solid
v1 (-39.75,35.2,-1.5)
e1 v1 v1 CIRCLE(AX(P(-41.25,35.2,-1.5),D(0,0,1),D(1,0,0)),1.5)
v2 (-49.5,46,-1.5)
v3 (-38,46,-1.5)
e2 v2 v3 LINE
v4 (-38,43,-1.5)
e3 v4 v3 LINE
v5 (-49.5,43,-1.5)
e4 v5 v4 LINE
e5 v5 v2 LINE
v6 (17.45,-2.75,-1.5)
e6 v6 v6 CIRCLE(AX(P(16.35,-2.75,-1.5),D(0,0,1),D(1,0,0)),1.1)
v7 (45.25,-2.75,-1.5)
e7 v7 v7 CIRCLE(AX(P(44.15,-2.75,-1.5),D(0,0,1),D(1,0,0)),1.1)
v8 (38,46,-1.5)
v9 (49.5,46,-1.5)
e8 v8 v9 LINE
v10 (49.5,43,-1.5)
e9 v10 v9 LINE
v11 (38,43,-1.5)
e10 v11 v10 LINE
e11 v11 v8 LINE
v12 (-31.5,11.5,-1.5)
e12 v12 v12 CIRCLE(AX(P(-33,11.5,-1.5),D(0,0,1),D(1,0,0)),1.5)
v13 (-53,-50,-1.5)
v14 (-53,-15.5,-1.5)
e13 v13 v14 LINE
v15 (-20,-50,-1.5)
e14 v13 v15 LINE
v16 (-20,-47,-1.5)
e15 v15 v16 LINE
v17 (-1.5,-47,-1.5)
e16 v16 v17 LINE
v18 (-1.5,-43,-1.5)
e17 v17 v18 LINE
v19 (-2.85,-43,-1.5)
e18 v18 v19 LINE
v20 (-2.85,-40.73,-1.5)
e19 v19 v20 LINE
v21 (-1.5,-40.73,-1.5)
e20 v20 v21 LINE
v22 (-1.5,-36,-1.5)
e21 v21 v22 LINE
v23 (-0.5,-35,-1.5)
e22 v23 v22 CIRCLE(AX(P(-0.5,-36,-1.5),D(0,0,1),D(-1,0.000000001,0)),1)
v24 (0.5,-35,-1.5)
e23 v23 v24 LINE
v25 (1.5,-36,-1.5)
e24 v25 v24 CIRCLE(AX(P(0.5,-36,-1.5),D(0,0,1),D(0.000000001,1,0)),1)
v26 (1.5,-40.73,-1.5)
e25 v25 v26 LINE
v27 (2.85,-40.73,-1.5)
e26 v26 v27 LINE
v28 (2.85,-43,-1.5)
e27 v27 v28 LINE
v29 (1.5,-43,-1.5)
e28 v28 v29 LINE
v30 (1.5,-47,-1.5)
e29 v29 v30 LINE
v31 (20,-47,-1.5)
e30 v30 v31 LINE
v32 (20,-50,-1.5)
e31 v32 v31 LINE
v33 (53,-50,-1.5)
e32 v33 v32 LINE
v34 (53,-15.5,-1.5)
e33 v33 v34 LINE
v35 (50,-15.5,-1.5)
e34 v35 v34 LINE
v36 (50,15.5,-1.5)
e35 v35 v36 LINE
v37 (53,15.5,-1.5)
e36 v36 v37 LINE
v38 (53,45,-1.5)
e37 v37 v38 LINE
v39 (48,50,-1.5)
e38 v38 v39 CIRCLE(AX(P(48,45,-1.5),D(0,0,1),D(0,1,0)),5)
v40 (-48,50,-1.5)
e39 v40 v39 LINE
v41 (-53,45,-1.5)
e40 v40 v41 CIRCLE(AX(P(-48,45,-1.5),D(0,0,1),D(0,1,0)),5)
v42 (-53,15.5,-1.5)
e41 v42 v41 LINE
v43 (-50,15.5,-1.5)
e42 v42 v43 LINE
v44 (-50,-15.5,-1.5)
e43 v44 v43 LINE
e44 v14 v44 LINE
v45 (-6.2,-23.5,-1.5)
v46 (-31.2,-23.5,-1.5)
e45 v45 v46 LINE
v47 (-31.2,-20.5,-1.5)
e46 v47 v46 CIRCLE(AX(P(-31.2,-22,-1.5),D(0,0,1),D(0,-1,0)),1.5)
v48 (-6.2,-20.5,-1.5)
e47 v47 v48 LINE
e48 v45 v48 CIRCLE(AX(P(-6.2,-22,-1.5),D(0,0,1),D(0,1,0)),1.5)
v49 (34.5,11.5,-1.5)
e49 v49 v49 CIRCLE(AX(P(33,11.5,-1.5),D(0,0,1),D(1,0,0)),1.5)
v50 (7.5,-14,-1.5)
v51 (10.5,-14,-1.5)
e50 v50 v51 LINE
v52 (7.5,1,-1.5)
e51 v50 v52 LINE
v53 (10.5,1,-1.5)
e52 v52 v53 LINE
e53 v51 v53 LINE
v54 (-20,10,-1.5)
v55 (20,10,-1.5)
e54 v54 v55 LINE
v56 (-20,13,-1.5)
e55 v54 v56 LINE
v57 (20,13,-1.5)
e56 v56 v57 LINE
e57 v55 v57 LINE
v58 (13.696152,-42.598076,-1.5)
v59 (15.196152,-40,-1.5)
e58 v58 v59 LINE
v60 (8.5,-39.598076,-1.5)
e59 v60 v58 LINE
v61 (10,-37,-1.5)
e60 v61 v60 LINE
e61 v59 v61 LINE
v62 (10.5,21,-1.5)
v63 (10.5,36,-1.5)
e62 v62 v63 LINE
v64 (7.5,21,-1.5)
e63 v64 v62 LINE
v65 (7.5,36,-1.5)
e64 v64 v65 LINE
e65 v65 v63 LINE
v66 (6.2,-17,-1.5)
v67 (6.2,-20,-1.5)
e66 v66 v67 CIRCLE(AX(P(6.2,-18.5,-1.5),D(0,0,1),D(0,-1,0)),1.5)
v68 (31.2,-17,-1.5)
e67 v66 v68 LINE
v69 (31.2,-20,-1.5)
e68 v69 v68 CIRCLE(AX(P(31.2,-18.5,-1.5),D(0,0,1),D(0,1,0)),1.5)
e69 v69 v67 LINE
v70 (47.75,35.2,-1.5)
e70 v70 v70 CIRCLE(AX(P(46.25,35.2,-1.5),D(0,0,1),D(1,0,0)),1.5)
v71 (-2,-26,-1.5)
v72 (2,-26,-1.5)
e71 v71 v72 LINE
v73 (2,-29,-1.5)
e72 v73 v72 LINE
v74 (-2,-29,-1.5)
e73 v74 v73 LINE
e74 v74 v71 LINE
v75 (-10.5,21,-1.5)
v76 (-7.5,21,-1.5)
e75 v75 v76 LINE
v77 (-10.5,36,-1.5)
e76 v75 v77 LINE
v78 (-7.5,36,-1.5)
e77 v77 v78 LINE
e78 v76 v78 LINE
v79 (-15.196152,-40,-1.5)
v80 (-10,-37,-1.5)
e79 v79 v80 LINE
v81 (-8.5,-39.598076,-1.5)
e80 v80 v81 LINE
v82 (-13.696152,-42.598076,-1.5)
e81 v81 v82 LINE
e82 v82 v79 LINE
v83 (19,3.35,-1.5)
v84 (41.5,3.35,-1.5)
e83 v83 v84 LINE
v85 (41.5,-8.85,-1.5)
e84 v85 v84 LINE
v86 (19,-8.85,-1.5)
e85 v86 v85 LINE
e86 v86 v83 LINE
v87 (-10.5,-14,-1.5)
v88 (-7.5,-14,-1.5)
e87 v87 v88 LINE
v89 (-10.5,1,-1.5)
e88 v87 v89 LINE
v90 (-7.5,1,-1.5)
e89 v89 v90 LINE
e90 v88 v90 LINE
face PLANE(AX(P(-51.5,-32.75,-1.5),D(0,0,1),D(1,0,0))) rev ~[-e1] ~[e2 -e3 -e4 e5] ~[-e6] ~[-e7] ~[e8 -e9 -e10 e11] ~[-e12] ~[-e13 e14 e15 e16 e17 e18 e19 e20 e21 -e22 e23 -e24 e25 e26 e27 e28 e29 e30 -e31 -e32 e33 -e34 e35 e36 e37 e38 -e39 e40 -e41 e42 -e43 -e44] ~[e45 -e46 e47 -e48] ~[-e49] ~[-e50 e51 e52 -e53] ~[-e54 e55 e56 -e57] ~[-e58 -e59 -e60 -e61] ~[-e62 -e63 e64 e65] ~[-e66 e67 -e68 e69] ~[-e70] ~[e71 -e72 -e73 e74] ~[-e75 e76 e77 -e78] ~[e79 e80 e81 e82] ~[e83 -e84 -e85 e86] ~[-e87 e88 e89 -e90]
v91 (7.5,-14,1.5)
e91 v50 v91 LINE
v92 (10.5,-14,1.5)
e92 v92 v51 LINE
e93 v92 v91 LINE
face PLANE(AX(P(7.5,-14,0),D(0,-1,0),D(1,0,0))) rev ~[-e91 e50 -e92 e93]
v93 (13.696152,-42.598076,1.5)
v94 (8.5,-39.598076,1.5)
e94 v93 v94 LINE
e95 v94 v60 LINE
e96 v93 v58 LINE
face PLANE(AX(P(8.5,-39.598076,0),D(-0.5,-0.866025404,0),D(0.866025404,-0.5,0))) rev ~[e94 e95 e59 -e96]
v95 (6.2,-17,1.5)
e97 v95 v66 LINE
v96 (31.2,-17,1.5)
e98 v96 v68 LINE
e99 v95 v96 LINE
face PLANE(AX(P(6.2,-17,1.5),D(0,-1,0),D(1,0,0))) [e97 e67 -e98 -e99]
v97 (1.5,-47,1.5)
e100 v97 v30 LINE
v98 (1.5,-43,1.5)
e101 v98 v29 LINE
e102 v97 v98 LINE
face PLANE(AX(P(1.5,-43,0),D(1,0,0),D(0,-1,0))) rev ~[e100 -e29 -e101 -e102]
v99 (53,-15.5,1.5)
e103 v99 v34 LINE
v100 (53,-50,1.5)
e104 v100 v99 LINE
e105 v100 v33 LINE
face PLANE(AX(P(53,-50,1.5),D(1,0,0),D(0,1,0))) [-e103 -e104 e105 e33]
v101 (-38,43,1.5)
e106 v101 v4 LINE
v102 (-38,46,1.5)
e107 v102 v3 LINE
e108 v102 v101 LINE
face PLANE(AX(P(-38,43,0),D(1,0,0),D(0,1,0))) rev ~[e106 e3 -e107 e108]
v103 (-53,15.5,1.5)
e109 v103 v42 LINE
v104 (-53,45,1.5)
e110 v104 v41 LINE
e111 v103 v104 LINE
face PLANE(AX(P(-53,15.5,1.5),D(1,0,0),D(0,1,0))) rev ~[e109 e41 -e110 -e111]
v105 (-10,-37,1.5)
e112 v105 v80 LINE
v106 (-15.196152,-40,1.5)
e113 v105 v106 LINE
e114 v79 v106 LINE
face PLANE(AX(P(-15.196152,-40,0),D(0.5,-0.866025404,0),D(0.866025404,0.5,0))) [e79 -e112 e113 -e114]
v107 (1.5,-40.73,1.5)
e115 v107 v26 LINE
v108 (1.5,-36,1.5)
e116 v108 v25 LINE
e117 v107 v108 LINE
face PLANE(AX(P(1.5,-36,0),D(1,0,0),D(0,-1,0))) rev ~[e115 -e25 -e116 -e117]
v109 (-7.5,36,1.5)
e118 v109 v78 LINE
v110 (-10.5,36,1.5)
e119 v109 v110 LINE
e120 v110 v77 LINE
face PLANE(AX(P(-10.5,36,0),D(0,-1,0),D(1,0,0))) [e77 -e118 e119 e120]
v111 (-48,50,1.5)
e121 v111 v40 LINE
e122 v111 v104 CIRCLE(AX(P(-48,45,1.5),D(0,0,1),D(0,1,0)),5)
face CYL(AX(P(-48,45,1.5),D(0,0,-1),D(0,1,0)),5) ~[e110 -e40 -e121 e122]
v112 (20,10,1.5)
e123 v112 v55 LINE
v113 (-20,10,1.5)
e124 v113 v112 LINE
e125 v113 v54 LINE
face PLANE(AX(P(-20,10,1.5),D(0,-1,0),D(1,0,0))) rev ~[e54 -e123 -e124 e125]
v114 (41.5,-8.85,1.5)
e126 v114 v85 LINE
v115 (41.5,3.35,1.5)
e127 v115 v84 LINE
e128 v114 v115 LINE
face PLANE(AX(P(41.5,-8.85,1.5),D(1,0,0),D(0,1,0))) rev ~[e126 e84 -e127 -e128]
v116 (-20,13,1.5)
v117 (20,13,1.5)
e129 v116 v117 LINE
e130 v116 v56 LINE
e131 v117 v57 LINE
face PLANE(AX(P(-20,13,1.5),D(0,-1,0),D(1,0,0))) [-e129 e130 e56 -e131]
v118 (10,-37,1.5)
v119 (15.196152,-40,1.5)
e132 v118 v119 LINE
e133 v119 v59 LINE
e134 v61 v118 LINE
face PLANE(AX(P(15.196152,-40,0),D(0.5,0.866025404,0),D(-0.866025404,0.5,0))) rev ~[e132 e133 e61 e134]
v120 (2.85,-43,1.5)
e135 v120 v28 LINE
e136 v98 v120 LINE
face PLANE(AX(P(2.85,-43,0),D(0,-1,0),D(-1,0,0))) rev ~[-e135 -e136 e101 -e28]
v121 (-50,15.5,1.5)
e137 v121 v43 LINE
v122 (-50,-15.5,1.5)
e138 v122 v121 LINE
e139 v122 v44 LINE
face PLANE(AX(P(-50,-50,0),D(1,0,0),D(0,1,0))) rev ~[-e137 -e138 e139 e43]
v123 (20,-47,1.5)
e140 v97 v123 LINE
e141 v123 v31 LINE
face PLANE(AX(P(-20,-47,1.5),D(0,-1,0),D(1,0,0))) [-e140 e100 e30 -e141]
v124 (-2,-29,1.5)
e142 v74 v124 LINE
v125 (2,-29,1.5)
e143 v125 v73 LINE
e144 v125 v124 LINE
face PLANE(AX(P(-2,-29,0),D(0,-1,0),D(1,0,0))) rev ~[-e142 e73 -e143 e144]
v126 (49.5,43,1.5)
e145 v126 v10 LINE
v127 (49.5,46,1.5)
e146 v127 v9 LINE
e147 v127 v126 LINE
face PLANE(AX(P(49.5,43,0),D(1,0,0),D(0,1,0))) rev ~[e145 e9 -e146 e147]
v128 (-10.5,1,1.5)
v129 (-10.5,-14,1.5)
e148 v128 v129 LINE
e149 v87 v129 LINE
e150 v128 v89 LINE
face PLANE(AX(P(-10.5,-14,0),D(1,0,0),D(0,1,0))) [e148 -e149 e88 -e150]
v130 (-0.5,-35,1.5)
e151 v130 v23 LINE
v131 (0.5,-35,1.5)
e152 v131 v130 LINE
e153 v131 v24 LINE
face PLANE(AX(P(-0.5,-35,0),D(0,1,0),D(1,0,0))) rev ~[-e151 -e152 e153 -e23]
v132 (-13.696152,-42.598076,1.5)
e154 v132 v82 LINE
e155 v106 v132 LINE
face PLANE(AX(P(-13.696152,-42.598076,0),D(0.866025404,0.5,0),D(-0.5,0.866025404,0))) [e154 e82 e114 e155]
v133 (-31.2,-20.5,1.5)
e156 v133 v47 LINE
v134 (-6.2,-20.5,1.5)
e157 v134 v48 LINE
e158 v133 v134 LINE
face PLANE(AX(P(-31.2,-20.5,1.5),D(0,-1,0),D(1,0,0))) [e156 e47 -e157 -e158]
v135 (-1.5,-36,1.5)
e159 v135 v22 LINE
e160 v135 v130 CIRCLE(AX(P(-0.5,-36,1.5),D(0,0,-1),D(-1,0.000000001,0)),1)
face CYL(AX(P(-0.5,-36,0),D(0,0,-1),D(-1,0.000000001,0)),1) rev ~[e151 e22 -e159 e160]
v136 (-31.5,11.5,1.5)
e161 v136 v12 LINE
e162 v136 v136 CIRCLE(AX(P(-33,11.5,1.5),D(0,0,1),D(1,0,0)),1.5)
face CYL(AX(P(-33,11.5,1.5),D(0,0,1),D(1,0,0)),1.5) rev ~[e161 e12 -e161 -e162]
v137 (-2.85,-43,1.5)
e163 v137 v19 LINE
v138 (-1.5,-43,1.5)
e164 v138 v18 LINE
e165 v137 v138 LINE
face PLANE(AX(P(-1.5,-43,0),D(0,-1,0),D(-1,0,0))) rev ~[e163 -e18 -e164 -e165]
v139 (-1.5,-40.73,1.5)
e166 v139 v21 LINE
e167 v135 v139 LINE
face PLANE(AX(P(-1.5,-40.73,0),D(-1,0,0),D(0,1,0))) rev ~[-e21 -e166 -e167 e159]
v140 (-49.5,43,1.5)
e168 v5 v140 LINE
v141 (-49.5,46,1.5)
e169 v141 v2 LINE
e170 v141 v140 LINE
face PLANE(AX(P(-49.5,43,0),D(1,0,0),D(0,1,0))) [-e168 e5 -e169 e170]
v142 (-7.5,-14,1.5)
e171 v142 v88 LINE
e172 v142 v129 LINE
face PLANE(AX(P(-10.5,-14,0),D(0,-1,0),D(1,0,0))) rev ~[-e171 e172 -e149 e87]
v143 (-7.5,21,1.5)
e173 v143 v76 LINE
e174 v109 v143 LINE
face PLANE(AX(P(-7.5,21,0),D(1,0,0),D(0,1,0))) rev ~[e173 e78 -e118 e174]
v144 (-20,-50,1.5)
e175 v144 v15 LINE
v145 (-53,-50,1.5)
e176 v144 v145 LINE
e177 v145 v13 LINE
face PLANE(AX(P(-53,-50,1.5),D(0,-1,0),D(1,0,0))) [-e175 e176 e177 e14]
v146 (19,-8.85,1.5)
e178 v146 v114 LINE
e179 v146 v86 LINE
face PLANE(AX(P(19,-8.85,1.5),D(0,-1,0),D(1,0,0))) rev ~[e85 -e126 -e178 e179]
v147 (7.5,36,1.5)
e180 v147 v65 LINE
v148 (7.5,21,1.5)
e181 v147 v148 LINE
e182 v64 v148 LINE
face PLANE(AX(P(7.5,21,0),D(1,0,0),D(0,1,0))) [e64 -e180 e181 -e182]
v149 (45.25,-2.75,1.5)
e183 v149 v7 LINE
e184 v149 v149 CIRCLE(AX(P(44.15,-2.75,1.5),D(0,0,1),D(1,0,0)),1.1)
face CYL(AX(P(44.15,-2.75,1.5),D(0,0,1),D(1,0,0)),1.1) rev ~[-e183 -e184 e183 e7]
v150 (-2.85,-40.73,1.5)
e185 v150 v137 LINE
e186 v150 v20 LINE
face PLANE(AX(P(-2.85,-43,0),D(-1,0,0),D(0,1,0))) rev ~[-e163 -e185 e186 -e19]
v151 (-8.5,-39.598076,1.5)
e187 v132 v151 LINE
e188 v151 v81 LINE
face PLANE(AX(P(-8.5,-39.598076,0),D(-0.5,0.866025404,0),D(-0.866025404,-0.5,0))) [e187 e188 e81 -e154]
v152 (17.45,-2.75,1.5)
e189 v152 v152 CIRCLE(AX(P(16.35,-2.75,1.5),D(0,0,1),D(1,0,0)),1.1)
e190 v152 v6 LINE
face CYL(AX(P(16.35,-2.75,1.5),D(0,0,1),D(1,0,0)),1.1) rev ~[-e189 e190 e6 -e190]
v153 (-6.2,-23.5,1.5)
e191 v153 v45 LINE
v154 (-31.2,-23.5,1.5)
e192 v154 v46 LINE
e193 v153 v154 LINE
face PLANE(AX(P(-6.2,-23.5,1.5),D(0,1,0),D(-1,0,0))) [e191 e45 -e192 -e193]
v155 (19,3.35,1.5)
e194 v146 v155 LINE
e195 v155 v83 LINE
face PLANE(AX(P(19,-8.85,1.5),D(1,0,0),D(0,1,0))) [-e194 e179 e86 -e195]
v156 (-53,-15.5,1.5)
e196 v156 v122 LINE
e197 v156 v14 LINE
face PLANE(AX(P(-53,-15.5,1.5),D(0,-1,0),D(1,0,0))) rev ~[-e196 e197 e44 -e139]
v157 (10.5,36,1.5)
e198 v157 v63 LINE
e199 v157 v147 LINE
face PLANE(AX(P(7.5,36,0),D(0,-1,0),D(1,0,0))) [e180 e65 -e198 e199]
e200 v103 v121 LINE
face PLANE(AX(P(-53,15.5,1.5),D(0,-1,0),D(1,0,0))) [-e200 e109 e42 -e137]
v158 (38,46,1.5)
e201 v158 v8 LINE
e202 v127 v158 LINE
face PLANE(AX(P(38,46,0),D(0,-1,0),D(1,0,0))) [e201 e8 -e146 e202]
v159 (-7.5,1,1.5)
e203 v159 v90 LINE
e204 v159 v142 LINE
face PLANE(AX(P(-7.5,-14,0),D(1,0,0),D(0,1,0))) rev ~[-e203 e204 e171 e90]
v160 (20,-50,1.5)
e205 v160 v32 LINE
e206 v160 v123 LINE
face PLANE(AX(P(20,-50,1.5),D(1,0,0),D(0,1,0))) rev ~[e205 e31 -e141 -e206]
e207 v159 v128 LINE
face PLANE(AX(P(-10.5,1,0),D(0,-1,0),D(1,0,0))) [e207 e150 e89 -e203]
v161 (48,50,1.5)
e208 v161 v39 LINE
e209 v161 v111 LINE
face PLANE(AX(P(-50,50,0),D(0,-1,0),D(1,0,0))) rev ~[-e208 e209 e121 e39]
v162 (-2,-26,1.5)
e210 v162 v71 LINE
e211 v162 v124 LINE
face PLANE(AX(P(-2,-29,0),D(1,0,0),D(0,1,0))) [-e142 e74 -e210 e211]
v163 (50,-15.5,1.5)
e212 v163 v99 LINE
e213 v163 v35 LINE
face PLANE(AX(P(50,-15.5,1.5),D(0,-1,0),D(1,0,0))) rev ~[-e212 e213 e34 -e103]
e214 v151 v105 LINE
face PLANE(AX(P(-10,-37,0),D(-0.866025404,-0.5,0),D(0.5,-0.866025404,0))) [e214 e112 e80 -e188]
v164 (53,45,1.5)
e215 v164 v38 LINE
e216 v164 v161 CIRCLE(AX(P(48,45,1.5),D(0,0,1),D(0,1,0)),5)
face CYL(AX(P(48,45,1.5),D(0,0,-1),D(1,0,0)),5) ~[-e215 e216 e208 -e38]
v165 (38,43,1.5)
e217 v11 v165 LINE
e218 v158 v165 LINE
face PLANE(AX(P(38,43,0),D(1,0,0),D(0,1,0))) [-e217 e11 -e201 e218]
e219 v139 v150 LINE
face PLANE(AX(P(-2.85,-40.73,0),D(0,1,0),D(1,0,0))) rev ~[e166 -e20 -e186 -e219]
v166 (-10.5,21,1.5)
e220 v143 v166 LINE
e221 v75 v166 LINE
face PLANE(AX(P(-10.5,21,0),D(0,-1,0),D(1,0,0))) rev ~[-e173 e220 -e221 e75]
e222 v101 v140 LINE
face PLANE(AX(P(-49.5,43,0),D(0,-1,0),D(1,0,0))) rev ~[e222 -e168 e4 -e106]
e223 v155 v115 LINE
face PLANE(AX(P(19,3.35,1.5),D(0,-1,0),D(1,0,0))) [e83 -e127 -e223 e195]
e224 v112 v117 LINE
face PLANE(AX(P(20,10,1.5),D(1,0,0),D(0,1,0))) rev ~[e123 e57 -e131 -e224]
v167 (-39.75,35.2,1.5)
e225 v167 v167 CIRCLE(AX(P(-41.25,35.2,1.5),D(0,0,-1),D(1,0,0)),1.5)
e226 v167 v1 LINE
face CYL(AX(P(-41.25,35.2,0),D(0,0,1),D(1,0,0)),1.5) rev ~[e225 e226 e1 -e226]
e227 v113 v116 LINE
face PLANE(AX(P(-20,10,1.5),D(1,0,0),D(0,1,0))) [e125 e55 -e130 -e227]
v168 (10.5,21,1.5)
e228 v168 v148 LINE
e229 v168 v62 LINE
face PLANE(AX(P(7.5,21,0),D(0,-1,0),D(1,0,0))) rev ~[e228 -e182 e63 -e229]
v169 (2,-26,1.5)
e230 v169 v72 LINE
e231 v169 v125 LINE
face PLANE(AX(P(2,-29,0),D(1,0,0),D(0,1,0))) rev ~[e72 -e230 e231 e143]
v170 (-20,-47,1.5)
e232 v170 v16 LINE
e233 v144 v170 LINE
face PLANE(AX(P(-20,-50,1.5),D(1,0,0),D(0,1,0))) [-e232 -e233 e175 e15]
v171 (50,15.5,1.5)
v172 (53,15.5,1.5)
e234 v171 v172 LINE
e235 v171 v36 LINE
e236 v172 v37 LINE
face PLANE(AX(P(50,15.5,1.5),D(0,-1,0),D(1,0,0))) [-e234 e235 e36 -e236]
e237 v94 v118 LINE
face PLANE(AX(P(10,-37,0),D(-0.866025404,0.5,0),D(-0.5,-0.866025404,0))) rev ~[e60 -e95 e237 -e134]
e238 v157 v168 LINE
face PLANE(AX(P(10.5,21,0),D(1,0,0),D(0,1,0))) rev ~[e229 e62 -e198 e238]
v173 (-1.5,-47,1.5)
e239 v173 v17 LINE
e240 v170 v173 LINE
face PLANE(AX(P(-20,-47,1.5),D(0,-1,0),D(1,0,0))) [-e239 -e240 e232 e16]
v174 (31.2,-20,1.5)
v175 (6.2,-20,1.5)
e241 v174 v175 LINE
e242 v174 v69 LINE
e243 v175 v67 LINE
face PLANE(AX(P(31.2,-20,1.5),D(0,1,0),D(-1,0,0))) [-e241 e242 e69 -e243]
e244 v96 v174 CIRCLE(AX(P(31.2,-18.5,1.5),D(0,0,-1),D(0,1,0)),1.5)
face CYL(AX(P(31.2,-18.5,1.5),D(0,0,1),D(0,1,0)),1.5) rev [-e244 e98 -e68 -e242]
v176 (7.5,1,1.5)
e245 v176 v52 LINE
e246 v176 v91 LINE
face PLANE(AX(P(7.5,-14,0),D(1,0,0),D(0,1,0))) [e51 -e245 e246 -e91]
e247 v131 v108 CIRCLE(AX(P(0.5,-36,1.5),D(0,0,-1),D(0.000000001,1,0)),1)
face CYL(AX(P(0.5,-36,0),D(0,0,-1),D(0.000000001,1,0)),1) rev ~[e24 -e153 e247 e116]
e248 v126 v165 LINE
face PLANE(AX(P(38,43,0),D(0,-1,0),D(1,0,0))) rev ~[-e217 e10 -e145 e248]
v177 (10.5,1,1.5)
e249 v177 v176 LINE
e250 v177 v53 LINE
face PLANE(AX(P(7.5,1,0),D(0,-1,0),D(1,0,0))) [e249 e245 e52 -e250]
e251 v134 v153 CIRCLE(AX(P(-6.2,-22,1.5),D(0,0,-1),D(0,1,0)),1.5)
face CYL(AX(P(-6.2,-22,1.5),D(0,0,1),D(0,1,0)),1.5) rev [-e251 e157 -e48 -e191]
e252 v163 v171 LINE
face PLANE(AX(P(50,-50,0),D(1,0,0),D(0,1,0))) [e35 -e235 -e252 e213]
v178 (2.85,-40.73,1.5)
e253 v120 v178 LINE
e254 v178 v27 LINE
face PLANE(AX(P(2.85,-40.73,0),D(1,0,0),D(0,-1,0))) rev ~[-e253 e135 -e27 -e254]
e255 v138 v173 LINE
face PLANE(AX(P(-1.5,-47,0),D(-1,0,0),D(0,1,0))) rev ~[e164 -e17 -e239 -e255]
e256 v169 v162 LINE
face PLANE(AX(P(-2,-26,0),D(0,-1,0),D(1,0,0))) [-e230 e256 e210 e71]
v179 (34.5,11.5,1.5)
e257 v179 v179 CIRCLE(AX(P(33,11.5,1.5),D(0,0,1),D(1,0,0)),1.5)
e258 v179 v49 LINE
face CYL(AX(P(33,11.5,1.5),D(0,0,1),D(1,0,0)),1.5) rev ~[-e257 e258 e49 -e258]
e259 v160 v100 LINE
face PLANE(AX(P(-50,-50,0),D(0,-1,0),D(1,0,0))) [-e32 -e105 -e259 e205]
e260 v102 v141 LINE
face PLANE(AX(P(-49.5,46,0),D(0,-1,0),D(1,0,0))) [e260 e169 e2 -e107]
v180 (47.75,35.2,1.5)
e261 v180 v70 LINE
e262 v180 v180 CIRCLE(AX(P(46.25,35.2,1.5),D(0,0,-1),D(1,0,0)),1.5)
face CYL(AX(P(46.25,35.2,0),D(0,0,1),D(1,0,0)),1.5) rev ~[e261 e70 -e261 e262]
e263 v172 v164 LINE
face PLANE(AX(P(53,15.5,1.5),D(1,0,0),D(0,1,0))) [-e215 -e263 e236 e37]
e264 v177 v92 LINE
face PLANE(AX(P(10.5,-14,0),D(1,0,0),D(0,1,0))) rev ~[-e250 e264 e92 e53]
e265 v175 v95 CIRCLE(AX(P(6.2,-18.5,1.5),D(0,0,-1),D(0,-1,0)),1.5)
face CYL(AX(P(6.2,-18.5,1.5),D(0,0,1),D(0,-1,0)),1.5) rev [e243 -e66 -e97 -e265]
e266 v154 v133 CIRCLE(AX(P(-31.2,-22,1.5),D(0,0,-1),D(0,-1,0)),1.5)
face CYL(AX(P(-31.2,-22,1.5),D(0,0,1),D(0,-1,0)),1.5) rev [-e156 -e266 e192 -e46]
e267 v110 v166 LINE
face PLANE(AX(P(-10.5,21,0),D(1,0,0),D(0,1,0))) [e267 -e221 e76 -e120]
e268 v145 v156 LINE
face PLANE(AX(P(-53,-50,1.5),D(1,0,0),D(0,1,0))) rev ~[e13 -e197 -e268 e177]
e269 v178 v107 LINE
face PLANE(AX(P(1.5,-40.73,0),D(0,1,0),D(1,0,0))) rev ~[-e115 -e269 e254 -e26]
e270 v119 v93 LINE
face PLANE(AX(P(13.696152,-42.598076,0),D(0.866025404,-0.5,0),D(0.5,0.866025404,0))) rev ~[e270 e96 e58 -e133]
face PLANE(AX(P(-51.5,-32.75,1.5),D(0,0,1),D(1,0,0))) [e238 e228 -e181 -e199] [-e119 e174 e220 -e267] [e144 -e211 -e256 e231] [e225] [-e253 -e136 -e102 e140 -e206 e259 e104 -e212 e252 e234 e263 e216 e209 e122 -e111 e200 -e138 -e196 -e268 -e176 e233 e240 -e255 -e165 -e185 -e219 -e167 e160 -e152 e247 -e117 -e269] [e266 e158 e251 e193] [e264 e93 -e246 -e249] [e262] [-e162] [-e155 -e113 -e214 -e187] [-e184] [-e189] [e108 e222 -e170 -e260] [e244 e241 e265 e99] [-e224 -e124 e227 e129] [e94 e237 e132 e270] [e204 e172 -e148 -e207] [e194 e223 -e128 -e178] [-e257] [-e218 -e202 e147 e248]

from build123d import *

# Parameters (mm, degrees)
ESBO_O1_W                 = 100
ESBO_O1_H                 = 100
RESSALTO_EXTRUS_O1_DEPTH  = 1.5
ESBO_O2_R                 = 1.5
ESBO_O2_W                 = 40
ESBO_O2_H                 = 3
CORTE_EXTRUS_O1_DEPTH     = 4
ESBO_O3_W                 = 3
ESBO_O3_H                 = 34.5
RESSALTO_EXTRUS_O2_DEPTH  = 3
CUT_EXTRUDE4_DEPTH        = 2.5
CUT_EXTRUDE4_DEPTH_BACK   = 2.5
FILLET1_R                 = 5
SKETCH3_W                 = 3
SKETCH3_H                 = 15
SKETCH3_W_2               = 4
SKETCH3_H_2               = 3
CUT_EXTRUDE5_DEPTH        = 2.5
CUT_EXTRUDE5_DEPTH_BACK   = 2.5
SKETCH8_R                 = 1.5
SKETCH8_W                 = 11.5
SKETCH8_H                 = 3
CORTE_GY_53LDK_DEPTH      = 2.5
CORTE_GY_53LDK_DEPTH_BACK = 2.5
SKETCH4_R                 = 1.1
SKETCH4_W                 = 22.5
SKETCH4_H                 = 12.2
CUT_EXTRUDE6_DEPTH        = 1
CUT_EXTRUDE6_DEPTH_BACK   = 4
CUT_EXTRUDE7_DEPTH        = 1
CUT_EXTRUDE7_DEPTH_BACK   = 4


with BuildPart() as part:
    # Esboço1 → Ressalto-extrusão1 (new body, symmetric)
    with BuildSketch(Plane.XY):
        Rectangle(ESBO_O1_W, ESBO_O1_H)
    extrude(amount=RESSALTO_EXTRUS_O1_DEPTH, both=True)

    # Esboço2 → Corte-extrusão1 (cut, through all)
    with BuildSketch(Plane.XY.offset(1.5)):
        with Locations((-33, 11.5)):
            Circle(ESBO_O2_R)
        with Locations((33, 11.5)):
            Circle(ESBO_O2_R)
        with Locations((0, -48.5)):
            Rectangle(ESBO_O2_W, ESBO_O2_H)
        with Locations((0, 11.5)):
            Rectangle(ESBO_O2_W, ESBO_O2_H)
    extrude(amount=-CORTE_EXTRUS_O1_DEPTH, mode=Mode.SUBTRACT)

    # Esboço3 → Ressalto-extrusão2 (add, through all)
    with BuildSketch(Plane.XY.offset(1.5)):
        with Locations((-51.5, -32.75)):
            Rectangle(ESBO_O3_W, ESBO_O3_H)
        with Locations((51.5, -32.75)):
            Rectangle(ESBO_O3_W, ESBO_O3_H)
        with Locations((-51.5, 32.75)):
            Rectangle(ESBO_O3_W, ESBO_O3_H)
        with Locations((51.5, 32.75)):
            Rectangle(ESBO_O3_W, ESBO_O3_H)
    extrude(amount=-RESSALTO_EXTRUS_O2_DEPTH)

    # Sketch2 → Cut-Extrude4 (cut, two sides)
    with BuildSketch(Plane.XY) as cut_extrude4_sk:
        with BuildLine():
            Line((-0.5, -35), (0.5, -35))
            ThreePointArc((0.5, -35), (1.207106781, -35.292893219), (1.5, -36))
            Line((1.5, -36), (1.5, -40.73))
            Line((1.5, -40.73), (2.85, -40.73))
            Line((2.85, -40.73), (2.85, -43))
            Line((2.85, -43), (1.5, -43))
            Line((1.5, -43), (1.5, -47))
            Line((1.5, -47), (-1.5, -47))
            Line((-1.5, -47), (-1.5, -43))
            Line((-1.5, -43), (-2.85, -43))
            Line((-2.85, -43), (-2.85, -40.73))
            Line((-2.85, -40.73), (-1.5, -40.73))
            Line((-1.5, -40.73), (-1.5, -36))
            ThreePointArc((-1.5, -36), (-1.207106781, -35.292893219), (-0.5, -35))
        make_face()
    extrude(amount=CUT_EXTRUDE4_DEPTH, mode=Mode.SUBTRACT)
    extrude(cut_extrude4_sk.sketch, amount=-CUT_EXTRUDE4_DEPTH_BACK, mode=Mode.SUBTRACT)

    # Fillet1
    fillet1_edges = [part.edges().sort_by_distance(p)[0] for p in [
        (53, 50, 0),
        (-53, 50, 0),
    ]]
    fillet(fillet1_edges, radius=FILLET1_R)

    # Sketch3 → Cut-Extrude5 (cut, two sides)
    with BuildSketch(Plane.XY) as cut_extrude5_sk:
        with Locations((9, -6.5)):
            Rectangle(SKETCH3_W, SKETCH3_H)
        with Locations((9, 28.5)):
            Rectangle(SKETCH3_W, SKETCH3_H)
        with Locations((-9, 28.5)):
            Rectangle(SKETCH3_W, SKETCH3_H)
        with Locations((-9, -6.5)):
            Rectangle(SKETCH3_W, SKETCH3_H)
        with Locations((0, -27.5)):
            Rectangle(SKETCH3_W_2, SKETCH3_H_2)
        Polygon((-15.196152423, -40), (-10, -37), (-8.5, -39.598076211), (-13.696152423, -42.598076211), align=None)
        Polygon((10, -37), (8.5, -39.598076211), (13.696152423, -42.598076211), (15.196152423, -40), align=None)
    extrude(amount=CUT_EXTRUDE5_DEPTH, mode=Mode.SUBTRACT)
    extrude(cut_extrude5_sk.sketch, amount=-CUT_EXTRUDE5_DEPTH_BACK, mode=Mode.SUBTRACT)

    # Sketch8 → Corte GY-53LDK (cut, two sides)
    with BuildSketch(Plane.XY) as corte_gy_53ldk_sk:
        with Locations((-41.25, 35.2)):
            Circle(SKETCH8_R)
        with Locations((46.25, 35.2)):
            Circle(SKETCH8_R)
        with Locations((-43.75, 44.5)):
            Rectangle(SKETCH8_W, SKETCH8_H)
        with Locations((43.75, 44.5)):
            Rectangle(SKETCH8_W, SKETCH8_H)
    extrude(amount=CORTE_GY_53LDK_DEPTH, mode=Mode.SUBTRACT)
    extrude(corte_gy_53ldk_sk.sketch, amount=-CORTE_GY_53LDK_DEPTH_BACK, mode=Mode.SUBTRACT)

    # Sketch4 → Cut-Extrude6 (cut, two sides)
    with BuildSketch(Plane.XY.offset(1.5)) as cut_extrude6_sk:
        with Locations((44.15, -2.75)):
            Circle(SKETCH4_R)
        with Locations((16.35, -2.75)):
            Circle(SKETCH4_R)
        with Locations((30.25, -2.75)):
            Rectangle(SKETCH4_W, SKETCH4_H)
    extrude(amount=CUT_EXTRUDE6_DEPTH, mode=Mode.SUBTRACT)
    extrude(cut_extrude6_sk.sketch, amount=-CUT_EXTRUDE6_DEPTH_BACK, mode=Mode.SUBTRACT)

    # Sketch6 → Cut-Extrude7 (cut, two sides)
    with BuildSketch(Plane.XY.offset(1.5)) as cut_extrude7_sk:
        with BuildLine():
            Line((-31.2, -20.5), (-6.2, -20.5))
            ThreePointArc((-6.2, -20.5), (-4.7, -22), (-6.2, -23.5))
            Line((-6.2, -23.5), (-31.2, -23.5))
            ThreePointArc((-31.2, -23.5), (-32.7, -22), (-31.2, -20.5))
        make_face()
        with BuildLine():
            Line((6.2, -17), (31.2, -17))
            ThreePointArc((31.2, -17), (32.7, -18.5), (31.2, -20))
            Line((31.2, -20), (6.2, -20))
            ThreePointArc((6.2, -20), (4.7, -18.5), (6.2, -17))
        make_face()
    extrude(amount=CUT_EXTRUDE7_DEPTH, mode=Mode.SUBTRACT)
    extrude(cut_extrude7_sk.sketch, amount=-CUT_EXTRUDE7_DEPTH_BACK, mode=Mode.SUBTRACT)


solid = part.part
